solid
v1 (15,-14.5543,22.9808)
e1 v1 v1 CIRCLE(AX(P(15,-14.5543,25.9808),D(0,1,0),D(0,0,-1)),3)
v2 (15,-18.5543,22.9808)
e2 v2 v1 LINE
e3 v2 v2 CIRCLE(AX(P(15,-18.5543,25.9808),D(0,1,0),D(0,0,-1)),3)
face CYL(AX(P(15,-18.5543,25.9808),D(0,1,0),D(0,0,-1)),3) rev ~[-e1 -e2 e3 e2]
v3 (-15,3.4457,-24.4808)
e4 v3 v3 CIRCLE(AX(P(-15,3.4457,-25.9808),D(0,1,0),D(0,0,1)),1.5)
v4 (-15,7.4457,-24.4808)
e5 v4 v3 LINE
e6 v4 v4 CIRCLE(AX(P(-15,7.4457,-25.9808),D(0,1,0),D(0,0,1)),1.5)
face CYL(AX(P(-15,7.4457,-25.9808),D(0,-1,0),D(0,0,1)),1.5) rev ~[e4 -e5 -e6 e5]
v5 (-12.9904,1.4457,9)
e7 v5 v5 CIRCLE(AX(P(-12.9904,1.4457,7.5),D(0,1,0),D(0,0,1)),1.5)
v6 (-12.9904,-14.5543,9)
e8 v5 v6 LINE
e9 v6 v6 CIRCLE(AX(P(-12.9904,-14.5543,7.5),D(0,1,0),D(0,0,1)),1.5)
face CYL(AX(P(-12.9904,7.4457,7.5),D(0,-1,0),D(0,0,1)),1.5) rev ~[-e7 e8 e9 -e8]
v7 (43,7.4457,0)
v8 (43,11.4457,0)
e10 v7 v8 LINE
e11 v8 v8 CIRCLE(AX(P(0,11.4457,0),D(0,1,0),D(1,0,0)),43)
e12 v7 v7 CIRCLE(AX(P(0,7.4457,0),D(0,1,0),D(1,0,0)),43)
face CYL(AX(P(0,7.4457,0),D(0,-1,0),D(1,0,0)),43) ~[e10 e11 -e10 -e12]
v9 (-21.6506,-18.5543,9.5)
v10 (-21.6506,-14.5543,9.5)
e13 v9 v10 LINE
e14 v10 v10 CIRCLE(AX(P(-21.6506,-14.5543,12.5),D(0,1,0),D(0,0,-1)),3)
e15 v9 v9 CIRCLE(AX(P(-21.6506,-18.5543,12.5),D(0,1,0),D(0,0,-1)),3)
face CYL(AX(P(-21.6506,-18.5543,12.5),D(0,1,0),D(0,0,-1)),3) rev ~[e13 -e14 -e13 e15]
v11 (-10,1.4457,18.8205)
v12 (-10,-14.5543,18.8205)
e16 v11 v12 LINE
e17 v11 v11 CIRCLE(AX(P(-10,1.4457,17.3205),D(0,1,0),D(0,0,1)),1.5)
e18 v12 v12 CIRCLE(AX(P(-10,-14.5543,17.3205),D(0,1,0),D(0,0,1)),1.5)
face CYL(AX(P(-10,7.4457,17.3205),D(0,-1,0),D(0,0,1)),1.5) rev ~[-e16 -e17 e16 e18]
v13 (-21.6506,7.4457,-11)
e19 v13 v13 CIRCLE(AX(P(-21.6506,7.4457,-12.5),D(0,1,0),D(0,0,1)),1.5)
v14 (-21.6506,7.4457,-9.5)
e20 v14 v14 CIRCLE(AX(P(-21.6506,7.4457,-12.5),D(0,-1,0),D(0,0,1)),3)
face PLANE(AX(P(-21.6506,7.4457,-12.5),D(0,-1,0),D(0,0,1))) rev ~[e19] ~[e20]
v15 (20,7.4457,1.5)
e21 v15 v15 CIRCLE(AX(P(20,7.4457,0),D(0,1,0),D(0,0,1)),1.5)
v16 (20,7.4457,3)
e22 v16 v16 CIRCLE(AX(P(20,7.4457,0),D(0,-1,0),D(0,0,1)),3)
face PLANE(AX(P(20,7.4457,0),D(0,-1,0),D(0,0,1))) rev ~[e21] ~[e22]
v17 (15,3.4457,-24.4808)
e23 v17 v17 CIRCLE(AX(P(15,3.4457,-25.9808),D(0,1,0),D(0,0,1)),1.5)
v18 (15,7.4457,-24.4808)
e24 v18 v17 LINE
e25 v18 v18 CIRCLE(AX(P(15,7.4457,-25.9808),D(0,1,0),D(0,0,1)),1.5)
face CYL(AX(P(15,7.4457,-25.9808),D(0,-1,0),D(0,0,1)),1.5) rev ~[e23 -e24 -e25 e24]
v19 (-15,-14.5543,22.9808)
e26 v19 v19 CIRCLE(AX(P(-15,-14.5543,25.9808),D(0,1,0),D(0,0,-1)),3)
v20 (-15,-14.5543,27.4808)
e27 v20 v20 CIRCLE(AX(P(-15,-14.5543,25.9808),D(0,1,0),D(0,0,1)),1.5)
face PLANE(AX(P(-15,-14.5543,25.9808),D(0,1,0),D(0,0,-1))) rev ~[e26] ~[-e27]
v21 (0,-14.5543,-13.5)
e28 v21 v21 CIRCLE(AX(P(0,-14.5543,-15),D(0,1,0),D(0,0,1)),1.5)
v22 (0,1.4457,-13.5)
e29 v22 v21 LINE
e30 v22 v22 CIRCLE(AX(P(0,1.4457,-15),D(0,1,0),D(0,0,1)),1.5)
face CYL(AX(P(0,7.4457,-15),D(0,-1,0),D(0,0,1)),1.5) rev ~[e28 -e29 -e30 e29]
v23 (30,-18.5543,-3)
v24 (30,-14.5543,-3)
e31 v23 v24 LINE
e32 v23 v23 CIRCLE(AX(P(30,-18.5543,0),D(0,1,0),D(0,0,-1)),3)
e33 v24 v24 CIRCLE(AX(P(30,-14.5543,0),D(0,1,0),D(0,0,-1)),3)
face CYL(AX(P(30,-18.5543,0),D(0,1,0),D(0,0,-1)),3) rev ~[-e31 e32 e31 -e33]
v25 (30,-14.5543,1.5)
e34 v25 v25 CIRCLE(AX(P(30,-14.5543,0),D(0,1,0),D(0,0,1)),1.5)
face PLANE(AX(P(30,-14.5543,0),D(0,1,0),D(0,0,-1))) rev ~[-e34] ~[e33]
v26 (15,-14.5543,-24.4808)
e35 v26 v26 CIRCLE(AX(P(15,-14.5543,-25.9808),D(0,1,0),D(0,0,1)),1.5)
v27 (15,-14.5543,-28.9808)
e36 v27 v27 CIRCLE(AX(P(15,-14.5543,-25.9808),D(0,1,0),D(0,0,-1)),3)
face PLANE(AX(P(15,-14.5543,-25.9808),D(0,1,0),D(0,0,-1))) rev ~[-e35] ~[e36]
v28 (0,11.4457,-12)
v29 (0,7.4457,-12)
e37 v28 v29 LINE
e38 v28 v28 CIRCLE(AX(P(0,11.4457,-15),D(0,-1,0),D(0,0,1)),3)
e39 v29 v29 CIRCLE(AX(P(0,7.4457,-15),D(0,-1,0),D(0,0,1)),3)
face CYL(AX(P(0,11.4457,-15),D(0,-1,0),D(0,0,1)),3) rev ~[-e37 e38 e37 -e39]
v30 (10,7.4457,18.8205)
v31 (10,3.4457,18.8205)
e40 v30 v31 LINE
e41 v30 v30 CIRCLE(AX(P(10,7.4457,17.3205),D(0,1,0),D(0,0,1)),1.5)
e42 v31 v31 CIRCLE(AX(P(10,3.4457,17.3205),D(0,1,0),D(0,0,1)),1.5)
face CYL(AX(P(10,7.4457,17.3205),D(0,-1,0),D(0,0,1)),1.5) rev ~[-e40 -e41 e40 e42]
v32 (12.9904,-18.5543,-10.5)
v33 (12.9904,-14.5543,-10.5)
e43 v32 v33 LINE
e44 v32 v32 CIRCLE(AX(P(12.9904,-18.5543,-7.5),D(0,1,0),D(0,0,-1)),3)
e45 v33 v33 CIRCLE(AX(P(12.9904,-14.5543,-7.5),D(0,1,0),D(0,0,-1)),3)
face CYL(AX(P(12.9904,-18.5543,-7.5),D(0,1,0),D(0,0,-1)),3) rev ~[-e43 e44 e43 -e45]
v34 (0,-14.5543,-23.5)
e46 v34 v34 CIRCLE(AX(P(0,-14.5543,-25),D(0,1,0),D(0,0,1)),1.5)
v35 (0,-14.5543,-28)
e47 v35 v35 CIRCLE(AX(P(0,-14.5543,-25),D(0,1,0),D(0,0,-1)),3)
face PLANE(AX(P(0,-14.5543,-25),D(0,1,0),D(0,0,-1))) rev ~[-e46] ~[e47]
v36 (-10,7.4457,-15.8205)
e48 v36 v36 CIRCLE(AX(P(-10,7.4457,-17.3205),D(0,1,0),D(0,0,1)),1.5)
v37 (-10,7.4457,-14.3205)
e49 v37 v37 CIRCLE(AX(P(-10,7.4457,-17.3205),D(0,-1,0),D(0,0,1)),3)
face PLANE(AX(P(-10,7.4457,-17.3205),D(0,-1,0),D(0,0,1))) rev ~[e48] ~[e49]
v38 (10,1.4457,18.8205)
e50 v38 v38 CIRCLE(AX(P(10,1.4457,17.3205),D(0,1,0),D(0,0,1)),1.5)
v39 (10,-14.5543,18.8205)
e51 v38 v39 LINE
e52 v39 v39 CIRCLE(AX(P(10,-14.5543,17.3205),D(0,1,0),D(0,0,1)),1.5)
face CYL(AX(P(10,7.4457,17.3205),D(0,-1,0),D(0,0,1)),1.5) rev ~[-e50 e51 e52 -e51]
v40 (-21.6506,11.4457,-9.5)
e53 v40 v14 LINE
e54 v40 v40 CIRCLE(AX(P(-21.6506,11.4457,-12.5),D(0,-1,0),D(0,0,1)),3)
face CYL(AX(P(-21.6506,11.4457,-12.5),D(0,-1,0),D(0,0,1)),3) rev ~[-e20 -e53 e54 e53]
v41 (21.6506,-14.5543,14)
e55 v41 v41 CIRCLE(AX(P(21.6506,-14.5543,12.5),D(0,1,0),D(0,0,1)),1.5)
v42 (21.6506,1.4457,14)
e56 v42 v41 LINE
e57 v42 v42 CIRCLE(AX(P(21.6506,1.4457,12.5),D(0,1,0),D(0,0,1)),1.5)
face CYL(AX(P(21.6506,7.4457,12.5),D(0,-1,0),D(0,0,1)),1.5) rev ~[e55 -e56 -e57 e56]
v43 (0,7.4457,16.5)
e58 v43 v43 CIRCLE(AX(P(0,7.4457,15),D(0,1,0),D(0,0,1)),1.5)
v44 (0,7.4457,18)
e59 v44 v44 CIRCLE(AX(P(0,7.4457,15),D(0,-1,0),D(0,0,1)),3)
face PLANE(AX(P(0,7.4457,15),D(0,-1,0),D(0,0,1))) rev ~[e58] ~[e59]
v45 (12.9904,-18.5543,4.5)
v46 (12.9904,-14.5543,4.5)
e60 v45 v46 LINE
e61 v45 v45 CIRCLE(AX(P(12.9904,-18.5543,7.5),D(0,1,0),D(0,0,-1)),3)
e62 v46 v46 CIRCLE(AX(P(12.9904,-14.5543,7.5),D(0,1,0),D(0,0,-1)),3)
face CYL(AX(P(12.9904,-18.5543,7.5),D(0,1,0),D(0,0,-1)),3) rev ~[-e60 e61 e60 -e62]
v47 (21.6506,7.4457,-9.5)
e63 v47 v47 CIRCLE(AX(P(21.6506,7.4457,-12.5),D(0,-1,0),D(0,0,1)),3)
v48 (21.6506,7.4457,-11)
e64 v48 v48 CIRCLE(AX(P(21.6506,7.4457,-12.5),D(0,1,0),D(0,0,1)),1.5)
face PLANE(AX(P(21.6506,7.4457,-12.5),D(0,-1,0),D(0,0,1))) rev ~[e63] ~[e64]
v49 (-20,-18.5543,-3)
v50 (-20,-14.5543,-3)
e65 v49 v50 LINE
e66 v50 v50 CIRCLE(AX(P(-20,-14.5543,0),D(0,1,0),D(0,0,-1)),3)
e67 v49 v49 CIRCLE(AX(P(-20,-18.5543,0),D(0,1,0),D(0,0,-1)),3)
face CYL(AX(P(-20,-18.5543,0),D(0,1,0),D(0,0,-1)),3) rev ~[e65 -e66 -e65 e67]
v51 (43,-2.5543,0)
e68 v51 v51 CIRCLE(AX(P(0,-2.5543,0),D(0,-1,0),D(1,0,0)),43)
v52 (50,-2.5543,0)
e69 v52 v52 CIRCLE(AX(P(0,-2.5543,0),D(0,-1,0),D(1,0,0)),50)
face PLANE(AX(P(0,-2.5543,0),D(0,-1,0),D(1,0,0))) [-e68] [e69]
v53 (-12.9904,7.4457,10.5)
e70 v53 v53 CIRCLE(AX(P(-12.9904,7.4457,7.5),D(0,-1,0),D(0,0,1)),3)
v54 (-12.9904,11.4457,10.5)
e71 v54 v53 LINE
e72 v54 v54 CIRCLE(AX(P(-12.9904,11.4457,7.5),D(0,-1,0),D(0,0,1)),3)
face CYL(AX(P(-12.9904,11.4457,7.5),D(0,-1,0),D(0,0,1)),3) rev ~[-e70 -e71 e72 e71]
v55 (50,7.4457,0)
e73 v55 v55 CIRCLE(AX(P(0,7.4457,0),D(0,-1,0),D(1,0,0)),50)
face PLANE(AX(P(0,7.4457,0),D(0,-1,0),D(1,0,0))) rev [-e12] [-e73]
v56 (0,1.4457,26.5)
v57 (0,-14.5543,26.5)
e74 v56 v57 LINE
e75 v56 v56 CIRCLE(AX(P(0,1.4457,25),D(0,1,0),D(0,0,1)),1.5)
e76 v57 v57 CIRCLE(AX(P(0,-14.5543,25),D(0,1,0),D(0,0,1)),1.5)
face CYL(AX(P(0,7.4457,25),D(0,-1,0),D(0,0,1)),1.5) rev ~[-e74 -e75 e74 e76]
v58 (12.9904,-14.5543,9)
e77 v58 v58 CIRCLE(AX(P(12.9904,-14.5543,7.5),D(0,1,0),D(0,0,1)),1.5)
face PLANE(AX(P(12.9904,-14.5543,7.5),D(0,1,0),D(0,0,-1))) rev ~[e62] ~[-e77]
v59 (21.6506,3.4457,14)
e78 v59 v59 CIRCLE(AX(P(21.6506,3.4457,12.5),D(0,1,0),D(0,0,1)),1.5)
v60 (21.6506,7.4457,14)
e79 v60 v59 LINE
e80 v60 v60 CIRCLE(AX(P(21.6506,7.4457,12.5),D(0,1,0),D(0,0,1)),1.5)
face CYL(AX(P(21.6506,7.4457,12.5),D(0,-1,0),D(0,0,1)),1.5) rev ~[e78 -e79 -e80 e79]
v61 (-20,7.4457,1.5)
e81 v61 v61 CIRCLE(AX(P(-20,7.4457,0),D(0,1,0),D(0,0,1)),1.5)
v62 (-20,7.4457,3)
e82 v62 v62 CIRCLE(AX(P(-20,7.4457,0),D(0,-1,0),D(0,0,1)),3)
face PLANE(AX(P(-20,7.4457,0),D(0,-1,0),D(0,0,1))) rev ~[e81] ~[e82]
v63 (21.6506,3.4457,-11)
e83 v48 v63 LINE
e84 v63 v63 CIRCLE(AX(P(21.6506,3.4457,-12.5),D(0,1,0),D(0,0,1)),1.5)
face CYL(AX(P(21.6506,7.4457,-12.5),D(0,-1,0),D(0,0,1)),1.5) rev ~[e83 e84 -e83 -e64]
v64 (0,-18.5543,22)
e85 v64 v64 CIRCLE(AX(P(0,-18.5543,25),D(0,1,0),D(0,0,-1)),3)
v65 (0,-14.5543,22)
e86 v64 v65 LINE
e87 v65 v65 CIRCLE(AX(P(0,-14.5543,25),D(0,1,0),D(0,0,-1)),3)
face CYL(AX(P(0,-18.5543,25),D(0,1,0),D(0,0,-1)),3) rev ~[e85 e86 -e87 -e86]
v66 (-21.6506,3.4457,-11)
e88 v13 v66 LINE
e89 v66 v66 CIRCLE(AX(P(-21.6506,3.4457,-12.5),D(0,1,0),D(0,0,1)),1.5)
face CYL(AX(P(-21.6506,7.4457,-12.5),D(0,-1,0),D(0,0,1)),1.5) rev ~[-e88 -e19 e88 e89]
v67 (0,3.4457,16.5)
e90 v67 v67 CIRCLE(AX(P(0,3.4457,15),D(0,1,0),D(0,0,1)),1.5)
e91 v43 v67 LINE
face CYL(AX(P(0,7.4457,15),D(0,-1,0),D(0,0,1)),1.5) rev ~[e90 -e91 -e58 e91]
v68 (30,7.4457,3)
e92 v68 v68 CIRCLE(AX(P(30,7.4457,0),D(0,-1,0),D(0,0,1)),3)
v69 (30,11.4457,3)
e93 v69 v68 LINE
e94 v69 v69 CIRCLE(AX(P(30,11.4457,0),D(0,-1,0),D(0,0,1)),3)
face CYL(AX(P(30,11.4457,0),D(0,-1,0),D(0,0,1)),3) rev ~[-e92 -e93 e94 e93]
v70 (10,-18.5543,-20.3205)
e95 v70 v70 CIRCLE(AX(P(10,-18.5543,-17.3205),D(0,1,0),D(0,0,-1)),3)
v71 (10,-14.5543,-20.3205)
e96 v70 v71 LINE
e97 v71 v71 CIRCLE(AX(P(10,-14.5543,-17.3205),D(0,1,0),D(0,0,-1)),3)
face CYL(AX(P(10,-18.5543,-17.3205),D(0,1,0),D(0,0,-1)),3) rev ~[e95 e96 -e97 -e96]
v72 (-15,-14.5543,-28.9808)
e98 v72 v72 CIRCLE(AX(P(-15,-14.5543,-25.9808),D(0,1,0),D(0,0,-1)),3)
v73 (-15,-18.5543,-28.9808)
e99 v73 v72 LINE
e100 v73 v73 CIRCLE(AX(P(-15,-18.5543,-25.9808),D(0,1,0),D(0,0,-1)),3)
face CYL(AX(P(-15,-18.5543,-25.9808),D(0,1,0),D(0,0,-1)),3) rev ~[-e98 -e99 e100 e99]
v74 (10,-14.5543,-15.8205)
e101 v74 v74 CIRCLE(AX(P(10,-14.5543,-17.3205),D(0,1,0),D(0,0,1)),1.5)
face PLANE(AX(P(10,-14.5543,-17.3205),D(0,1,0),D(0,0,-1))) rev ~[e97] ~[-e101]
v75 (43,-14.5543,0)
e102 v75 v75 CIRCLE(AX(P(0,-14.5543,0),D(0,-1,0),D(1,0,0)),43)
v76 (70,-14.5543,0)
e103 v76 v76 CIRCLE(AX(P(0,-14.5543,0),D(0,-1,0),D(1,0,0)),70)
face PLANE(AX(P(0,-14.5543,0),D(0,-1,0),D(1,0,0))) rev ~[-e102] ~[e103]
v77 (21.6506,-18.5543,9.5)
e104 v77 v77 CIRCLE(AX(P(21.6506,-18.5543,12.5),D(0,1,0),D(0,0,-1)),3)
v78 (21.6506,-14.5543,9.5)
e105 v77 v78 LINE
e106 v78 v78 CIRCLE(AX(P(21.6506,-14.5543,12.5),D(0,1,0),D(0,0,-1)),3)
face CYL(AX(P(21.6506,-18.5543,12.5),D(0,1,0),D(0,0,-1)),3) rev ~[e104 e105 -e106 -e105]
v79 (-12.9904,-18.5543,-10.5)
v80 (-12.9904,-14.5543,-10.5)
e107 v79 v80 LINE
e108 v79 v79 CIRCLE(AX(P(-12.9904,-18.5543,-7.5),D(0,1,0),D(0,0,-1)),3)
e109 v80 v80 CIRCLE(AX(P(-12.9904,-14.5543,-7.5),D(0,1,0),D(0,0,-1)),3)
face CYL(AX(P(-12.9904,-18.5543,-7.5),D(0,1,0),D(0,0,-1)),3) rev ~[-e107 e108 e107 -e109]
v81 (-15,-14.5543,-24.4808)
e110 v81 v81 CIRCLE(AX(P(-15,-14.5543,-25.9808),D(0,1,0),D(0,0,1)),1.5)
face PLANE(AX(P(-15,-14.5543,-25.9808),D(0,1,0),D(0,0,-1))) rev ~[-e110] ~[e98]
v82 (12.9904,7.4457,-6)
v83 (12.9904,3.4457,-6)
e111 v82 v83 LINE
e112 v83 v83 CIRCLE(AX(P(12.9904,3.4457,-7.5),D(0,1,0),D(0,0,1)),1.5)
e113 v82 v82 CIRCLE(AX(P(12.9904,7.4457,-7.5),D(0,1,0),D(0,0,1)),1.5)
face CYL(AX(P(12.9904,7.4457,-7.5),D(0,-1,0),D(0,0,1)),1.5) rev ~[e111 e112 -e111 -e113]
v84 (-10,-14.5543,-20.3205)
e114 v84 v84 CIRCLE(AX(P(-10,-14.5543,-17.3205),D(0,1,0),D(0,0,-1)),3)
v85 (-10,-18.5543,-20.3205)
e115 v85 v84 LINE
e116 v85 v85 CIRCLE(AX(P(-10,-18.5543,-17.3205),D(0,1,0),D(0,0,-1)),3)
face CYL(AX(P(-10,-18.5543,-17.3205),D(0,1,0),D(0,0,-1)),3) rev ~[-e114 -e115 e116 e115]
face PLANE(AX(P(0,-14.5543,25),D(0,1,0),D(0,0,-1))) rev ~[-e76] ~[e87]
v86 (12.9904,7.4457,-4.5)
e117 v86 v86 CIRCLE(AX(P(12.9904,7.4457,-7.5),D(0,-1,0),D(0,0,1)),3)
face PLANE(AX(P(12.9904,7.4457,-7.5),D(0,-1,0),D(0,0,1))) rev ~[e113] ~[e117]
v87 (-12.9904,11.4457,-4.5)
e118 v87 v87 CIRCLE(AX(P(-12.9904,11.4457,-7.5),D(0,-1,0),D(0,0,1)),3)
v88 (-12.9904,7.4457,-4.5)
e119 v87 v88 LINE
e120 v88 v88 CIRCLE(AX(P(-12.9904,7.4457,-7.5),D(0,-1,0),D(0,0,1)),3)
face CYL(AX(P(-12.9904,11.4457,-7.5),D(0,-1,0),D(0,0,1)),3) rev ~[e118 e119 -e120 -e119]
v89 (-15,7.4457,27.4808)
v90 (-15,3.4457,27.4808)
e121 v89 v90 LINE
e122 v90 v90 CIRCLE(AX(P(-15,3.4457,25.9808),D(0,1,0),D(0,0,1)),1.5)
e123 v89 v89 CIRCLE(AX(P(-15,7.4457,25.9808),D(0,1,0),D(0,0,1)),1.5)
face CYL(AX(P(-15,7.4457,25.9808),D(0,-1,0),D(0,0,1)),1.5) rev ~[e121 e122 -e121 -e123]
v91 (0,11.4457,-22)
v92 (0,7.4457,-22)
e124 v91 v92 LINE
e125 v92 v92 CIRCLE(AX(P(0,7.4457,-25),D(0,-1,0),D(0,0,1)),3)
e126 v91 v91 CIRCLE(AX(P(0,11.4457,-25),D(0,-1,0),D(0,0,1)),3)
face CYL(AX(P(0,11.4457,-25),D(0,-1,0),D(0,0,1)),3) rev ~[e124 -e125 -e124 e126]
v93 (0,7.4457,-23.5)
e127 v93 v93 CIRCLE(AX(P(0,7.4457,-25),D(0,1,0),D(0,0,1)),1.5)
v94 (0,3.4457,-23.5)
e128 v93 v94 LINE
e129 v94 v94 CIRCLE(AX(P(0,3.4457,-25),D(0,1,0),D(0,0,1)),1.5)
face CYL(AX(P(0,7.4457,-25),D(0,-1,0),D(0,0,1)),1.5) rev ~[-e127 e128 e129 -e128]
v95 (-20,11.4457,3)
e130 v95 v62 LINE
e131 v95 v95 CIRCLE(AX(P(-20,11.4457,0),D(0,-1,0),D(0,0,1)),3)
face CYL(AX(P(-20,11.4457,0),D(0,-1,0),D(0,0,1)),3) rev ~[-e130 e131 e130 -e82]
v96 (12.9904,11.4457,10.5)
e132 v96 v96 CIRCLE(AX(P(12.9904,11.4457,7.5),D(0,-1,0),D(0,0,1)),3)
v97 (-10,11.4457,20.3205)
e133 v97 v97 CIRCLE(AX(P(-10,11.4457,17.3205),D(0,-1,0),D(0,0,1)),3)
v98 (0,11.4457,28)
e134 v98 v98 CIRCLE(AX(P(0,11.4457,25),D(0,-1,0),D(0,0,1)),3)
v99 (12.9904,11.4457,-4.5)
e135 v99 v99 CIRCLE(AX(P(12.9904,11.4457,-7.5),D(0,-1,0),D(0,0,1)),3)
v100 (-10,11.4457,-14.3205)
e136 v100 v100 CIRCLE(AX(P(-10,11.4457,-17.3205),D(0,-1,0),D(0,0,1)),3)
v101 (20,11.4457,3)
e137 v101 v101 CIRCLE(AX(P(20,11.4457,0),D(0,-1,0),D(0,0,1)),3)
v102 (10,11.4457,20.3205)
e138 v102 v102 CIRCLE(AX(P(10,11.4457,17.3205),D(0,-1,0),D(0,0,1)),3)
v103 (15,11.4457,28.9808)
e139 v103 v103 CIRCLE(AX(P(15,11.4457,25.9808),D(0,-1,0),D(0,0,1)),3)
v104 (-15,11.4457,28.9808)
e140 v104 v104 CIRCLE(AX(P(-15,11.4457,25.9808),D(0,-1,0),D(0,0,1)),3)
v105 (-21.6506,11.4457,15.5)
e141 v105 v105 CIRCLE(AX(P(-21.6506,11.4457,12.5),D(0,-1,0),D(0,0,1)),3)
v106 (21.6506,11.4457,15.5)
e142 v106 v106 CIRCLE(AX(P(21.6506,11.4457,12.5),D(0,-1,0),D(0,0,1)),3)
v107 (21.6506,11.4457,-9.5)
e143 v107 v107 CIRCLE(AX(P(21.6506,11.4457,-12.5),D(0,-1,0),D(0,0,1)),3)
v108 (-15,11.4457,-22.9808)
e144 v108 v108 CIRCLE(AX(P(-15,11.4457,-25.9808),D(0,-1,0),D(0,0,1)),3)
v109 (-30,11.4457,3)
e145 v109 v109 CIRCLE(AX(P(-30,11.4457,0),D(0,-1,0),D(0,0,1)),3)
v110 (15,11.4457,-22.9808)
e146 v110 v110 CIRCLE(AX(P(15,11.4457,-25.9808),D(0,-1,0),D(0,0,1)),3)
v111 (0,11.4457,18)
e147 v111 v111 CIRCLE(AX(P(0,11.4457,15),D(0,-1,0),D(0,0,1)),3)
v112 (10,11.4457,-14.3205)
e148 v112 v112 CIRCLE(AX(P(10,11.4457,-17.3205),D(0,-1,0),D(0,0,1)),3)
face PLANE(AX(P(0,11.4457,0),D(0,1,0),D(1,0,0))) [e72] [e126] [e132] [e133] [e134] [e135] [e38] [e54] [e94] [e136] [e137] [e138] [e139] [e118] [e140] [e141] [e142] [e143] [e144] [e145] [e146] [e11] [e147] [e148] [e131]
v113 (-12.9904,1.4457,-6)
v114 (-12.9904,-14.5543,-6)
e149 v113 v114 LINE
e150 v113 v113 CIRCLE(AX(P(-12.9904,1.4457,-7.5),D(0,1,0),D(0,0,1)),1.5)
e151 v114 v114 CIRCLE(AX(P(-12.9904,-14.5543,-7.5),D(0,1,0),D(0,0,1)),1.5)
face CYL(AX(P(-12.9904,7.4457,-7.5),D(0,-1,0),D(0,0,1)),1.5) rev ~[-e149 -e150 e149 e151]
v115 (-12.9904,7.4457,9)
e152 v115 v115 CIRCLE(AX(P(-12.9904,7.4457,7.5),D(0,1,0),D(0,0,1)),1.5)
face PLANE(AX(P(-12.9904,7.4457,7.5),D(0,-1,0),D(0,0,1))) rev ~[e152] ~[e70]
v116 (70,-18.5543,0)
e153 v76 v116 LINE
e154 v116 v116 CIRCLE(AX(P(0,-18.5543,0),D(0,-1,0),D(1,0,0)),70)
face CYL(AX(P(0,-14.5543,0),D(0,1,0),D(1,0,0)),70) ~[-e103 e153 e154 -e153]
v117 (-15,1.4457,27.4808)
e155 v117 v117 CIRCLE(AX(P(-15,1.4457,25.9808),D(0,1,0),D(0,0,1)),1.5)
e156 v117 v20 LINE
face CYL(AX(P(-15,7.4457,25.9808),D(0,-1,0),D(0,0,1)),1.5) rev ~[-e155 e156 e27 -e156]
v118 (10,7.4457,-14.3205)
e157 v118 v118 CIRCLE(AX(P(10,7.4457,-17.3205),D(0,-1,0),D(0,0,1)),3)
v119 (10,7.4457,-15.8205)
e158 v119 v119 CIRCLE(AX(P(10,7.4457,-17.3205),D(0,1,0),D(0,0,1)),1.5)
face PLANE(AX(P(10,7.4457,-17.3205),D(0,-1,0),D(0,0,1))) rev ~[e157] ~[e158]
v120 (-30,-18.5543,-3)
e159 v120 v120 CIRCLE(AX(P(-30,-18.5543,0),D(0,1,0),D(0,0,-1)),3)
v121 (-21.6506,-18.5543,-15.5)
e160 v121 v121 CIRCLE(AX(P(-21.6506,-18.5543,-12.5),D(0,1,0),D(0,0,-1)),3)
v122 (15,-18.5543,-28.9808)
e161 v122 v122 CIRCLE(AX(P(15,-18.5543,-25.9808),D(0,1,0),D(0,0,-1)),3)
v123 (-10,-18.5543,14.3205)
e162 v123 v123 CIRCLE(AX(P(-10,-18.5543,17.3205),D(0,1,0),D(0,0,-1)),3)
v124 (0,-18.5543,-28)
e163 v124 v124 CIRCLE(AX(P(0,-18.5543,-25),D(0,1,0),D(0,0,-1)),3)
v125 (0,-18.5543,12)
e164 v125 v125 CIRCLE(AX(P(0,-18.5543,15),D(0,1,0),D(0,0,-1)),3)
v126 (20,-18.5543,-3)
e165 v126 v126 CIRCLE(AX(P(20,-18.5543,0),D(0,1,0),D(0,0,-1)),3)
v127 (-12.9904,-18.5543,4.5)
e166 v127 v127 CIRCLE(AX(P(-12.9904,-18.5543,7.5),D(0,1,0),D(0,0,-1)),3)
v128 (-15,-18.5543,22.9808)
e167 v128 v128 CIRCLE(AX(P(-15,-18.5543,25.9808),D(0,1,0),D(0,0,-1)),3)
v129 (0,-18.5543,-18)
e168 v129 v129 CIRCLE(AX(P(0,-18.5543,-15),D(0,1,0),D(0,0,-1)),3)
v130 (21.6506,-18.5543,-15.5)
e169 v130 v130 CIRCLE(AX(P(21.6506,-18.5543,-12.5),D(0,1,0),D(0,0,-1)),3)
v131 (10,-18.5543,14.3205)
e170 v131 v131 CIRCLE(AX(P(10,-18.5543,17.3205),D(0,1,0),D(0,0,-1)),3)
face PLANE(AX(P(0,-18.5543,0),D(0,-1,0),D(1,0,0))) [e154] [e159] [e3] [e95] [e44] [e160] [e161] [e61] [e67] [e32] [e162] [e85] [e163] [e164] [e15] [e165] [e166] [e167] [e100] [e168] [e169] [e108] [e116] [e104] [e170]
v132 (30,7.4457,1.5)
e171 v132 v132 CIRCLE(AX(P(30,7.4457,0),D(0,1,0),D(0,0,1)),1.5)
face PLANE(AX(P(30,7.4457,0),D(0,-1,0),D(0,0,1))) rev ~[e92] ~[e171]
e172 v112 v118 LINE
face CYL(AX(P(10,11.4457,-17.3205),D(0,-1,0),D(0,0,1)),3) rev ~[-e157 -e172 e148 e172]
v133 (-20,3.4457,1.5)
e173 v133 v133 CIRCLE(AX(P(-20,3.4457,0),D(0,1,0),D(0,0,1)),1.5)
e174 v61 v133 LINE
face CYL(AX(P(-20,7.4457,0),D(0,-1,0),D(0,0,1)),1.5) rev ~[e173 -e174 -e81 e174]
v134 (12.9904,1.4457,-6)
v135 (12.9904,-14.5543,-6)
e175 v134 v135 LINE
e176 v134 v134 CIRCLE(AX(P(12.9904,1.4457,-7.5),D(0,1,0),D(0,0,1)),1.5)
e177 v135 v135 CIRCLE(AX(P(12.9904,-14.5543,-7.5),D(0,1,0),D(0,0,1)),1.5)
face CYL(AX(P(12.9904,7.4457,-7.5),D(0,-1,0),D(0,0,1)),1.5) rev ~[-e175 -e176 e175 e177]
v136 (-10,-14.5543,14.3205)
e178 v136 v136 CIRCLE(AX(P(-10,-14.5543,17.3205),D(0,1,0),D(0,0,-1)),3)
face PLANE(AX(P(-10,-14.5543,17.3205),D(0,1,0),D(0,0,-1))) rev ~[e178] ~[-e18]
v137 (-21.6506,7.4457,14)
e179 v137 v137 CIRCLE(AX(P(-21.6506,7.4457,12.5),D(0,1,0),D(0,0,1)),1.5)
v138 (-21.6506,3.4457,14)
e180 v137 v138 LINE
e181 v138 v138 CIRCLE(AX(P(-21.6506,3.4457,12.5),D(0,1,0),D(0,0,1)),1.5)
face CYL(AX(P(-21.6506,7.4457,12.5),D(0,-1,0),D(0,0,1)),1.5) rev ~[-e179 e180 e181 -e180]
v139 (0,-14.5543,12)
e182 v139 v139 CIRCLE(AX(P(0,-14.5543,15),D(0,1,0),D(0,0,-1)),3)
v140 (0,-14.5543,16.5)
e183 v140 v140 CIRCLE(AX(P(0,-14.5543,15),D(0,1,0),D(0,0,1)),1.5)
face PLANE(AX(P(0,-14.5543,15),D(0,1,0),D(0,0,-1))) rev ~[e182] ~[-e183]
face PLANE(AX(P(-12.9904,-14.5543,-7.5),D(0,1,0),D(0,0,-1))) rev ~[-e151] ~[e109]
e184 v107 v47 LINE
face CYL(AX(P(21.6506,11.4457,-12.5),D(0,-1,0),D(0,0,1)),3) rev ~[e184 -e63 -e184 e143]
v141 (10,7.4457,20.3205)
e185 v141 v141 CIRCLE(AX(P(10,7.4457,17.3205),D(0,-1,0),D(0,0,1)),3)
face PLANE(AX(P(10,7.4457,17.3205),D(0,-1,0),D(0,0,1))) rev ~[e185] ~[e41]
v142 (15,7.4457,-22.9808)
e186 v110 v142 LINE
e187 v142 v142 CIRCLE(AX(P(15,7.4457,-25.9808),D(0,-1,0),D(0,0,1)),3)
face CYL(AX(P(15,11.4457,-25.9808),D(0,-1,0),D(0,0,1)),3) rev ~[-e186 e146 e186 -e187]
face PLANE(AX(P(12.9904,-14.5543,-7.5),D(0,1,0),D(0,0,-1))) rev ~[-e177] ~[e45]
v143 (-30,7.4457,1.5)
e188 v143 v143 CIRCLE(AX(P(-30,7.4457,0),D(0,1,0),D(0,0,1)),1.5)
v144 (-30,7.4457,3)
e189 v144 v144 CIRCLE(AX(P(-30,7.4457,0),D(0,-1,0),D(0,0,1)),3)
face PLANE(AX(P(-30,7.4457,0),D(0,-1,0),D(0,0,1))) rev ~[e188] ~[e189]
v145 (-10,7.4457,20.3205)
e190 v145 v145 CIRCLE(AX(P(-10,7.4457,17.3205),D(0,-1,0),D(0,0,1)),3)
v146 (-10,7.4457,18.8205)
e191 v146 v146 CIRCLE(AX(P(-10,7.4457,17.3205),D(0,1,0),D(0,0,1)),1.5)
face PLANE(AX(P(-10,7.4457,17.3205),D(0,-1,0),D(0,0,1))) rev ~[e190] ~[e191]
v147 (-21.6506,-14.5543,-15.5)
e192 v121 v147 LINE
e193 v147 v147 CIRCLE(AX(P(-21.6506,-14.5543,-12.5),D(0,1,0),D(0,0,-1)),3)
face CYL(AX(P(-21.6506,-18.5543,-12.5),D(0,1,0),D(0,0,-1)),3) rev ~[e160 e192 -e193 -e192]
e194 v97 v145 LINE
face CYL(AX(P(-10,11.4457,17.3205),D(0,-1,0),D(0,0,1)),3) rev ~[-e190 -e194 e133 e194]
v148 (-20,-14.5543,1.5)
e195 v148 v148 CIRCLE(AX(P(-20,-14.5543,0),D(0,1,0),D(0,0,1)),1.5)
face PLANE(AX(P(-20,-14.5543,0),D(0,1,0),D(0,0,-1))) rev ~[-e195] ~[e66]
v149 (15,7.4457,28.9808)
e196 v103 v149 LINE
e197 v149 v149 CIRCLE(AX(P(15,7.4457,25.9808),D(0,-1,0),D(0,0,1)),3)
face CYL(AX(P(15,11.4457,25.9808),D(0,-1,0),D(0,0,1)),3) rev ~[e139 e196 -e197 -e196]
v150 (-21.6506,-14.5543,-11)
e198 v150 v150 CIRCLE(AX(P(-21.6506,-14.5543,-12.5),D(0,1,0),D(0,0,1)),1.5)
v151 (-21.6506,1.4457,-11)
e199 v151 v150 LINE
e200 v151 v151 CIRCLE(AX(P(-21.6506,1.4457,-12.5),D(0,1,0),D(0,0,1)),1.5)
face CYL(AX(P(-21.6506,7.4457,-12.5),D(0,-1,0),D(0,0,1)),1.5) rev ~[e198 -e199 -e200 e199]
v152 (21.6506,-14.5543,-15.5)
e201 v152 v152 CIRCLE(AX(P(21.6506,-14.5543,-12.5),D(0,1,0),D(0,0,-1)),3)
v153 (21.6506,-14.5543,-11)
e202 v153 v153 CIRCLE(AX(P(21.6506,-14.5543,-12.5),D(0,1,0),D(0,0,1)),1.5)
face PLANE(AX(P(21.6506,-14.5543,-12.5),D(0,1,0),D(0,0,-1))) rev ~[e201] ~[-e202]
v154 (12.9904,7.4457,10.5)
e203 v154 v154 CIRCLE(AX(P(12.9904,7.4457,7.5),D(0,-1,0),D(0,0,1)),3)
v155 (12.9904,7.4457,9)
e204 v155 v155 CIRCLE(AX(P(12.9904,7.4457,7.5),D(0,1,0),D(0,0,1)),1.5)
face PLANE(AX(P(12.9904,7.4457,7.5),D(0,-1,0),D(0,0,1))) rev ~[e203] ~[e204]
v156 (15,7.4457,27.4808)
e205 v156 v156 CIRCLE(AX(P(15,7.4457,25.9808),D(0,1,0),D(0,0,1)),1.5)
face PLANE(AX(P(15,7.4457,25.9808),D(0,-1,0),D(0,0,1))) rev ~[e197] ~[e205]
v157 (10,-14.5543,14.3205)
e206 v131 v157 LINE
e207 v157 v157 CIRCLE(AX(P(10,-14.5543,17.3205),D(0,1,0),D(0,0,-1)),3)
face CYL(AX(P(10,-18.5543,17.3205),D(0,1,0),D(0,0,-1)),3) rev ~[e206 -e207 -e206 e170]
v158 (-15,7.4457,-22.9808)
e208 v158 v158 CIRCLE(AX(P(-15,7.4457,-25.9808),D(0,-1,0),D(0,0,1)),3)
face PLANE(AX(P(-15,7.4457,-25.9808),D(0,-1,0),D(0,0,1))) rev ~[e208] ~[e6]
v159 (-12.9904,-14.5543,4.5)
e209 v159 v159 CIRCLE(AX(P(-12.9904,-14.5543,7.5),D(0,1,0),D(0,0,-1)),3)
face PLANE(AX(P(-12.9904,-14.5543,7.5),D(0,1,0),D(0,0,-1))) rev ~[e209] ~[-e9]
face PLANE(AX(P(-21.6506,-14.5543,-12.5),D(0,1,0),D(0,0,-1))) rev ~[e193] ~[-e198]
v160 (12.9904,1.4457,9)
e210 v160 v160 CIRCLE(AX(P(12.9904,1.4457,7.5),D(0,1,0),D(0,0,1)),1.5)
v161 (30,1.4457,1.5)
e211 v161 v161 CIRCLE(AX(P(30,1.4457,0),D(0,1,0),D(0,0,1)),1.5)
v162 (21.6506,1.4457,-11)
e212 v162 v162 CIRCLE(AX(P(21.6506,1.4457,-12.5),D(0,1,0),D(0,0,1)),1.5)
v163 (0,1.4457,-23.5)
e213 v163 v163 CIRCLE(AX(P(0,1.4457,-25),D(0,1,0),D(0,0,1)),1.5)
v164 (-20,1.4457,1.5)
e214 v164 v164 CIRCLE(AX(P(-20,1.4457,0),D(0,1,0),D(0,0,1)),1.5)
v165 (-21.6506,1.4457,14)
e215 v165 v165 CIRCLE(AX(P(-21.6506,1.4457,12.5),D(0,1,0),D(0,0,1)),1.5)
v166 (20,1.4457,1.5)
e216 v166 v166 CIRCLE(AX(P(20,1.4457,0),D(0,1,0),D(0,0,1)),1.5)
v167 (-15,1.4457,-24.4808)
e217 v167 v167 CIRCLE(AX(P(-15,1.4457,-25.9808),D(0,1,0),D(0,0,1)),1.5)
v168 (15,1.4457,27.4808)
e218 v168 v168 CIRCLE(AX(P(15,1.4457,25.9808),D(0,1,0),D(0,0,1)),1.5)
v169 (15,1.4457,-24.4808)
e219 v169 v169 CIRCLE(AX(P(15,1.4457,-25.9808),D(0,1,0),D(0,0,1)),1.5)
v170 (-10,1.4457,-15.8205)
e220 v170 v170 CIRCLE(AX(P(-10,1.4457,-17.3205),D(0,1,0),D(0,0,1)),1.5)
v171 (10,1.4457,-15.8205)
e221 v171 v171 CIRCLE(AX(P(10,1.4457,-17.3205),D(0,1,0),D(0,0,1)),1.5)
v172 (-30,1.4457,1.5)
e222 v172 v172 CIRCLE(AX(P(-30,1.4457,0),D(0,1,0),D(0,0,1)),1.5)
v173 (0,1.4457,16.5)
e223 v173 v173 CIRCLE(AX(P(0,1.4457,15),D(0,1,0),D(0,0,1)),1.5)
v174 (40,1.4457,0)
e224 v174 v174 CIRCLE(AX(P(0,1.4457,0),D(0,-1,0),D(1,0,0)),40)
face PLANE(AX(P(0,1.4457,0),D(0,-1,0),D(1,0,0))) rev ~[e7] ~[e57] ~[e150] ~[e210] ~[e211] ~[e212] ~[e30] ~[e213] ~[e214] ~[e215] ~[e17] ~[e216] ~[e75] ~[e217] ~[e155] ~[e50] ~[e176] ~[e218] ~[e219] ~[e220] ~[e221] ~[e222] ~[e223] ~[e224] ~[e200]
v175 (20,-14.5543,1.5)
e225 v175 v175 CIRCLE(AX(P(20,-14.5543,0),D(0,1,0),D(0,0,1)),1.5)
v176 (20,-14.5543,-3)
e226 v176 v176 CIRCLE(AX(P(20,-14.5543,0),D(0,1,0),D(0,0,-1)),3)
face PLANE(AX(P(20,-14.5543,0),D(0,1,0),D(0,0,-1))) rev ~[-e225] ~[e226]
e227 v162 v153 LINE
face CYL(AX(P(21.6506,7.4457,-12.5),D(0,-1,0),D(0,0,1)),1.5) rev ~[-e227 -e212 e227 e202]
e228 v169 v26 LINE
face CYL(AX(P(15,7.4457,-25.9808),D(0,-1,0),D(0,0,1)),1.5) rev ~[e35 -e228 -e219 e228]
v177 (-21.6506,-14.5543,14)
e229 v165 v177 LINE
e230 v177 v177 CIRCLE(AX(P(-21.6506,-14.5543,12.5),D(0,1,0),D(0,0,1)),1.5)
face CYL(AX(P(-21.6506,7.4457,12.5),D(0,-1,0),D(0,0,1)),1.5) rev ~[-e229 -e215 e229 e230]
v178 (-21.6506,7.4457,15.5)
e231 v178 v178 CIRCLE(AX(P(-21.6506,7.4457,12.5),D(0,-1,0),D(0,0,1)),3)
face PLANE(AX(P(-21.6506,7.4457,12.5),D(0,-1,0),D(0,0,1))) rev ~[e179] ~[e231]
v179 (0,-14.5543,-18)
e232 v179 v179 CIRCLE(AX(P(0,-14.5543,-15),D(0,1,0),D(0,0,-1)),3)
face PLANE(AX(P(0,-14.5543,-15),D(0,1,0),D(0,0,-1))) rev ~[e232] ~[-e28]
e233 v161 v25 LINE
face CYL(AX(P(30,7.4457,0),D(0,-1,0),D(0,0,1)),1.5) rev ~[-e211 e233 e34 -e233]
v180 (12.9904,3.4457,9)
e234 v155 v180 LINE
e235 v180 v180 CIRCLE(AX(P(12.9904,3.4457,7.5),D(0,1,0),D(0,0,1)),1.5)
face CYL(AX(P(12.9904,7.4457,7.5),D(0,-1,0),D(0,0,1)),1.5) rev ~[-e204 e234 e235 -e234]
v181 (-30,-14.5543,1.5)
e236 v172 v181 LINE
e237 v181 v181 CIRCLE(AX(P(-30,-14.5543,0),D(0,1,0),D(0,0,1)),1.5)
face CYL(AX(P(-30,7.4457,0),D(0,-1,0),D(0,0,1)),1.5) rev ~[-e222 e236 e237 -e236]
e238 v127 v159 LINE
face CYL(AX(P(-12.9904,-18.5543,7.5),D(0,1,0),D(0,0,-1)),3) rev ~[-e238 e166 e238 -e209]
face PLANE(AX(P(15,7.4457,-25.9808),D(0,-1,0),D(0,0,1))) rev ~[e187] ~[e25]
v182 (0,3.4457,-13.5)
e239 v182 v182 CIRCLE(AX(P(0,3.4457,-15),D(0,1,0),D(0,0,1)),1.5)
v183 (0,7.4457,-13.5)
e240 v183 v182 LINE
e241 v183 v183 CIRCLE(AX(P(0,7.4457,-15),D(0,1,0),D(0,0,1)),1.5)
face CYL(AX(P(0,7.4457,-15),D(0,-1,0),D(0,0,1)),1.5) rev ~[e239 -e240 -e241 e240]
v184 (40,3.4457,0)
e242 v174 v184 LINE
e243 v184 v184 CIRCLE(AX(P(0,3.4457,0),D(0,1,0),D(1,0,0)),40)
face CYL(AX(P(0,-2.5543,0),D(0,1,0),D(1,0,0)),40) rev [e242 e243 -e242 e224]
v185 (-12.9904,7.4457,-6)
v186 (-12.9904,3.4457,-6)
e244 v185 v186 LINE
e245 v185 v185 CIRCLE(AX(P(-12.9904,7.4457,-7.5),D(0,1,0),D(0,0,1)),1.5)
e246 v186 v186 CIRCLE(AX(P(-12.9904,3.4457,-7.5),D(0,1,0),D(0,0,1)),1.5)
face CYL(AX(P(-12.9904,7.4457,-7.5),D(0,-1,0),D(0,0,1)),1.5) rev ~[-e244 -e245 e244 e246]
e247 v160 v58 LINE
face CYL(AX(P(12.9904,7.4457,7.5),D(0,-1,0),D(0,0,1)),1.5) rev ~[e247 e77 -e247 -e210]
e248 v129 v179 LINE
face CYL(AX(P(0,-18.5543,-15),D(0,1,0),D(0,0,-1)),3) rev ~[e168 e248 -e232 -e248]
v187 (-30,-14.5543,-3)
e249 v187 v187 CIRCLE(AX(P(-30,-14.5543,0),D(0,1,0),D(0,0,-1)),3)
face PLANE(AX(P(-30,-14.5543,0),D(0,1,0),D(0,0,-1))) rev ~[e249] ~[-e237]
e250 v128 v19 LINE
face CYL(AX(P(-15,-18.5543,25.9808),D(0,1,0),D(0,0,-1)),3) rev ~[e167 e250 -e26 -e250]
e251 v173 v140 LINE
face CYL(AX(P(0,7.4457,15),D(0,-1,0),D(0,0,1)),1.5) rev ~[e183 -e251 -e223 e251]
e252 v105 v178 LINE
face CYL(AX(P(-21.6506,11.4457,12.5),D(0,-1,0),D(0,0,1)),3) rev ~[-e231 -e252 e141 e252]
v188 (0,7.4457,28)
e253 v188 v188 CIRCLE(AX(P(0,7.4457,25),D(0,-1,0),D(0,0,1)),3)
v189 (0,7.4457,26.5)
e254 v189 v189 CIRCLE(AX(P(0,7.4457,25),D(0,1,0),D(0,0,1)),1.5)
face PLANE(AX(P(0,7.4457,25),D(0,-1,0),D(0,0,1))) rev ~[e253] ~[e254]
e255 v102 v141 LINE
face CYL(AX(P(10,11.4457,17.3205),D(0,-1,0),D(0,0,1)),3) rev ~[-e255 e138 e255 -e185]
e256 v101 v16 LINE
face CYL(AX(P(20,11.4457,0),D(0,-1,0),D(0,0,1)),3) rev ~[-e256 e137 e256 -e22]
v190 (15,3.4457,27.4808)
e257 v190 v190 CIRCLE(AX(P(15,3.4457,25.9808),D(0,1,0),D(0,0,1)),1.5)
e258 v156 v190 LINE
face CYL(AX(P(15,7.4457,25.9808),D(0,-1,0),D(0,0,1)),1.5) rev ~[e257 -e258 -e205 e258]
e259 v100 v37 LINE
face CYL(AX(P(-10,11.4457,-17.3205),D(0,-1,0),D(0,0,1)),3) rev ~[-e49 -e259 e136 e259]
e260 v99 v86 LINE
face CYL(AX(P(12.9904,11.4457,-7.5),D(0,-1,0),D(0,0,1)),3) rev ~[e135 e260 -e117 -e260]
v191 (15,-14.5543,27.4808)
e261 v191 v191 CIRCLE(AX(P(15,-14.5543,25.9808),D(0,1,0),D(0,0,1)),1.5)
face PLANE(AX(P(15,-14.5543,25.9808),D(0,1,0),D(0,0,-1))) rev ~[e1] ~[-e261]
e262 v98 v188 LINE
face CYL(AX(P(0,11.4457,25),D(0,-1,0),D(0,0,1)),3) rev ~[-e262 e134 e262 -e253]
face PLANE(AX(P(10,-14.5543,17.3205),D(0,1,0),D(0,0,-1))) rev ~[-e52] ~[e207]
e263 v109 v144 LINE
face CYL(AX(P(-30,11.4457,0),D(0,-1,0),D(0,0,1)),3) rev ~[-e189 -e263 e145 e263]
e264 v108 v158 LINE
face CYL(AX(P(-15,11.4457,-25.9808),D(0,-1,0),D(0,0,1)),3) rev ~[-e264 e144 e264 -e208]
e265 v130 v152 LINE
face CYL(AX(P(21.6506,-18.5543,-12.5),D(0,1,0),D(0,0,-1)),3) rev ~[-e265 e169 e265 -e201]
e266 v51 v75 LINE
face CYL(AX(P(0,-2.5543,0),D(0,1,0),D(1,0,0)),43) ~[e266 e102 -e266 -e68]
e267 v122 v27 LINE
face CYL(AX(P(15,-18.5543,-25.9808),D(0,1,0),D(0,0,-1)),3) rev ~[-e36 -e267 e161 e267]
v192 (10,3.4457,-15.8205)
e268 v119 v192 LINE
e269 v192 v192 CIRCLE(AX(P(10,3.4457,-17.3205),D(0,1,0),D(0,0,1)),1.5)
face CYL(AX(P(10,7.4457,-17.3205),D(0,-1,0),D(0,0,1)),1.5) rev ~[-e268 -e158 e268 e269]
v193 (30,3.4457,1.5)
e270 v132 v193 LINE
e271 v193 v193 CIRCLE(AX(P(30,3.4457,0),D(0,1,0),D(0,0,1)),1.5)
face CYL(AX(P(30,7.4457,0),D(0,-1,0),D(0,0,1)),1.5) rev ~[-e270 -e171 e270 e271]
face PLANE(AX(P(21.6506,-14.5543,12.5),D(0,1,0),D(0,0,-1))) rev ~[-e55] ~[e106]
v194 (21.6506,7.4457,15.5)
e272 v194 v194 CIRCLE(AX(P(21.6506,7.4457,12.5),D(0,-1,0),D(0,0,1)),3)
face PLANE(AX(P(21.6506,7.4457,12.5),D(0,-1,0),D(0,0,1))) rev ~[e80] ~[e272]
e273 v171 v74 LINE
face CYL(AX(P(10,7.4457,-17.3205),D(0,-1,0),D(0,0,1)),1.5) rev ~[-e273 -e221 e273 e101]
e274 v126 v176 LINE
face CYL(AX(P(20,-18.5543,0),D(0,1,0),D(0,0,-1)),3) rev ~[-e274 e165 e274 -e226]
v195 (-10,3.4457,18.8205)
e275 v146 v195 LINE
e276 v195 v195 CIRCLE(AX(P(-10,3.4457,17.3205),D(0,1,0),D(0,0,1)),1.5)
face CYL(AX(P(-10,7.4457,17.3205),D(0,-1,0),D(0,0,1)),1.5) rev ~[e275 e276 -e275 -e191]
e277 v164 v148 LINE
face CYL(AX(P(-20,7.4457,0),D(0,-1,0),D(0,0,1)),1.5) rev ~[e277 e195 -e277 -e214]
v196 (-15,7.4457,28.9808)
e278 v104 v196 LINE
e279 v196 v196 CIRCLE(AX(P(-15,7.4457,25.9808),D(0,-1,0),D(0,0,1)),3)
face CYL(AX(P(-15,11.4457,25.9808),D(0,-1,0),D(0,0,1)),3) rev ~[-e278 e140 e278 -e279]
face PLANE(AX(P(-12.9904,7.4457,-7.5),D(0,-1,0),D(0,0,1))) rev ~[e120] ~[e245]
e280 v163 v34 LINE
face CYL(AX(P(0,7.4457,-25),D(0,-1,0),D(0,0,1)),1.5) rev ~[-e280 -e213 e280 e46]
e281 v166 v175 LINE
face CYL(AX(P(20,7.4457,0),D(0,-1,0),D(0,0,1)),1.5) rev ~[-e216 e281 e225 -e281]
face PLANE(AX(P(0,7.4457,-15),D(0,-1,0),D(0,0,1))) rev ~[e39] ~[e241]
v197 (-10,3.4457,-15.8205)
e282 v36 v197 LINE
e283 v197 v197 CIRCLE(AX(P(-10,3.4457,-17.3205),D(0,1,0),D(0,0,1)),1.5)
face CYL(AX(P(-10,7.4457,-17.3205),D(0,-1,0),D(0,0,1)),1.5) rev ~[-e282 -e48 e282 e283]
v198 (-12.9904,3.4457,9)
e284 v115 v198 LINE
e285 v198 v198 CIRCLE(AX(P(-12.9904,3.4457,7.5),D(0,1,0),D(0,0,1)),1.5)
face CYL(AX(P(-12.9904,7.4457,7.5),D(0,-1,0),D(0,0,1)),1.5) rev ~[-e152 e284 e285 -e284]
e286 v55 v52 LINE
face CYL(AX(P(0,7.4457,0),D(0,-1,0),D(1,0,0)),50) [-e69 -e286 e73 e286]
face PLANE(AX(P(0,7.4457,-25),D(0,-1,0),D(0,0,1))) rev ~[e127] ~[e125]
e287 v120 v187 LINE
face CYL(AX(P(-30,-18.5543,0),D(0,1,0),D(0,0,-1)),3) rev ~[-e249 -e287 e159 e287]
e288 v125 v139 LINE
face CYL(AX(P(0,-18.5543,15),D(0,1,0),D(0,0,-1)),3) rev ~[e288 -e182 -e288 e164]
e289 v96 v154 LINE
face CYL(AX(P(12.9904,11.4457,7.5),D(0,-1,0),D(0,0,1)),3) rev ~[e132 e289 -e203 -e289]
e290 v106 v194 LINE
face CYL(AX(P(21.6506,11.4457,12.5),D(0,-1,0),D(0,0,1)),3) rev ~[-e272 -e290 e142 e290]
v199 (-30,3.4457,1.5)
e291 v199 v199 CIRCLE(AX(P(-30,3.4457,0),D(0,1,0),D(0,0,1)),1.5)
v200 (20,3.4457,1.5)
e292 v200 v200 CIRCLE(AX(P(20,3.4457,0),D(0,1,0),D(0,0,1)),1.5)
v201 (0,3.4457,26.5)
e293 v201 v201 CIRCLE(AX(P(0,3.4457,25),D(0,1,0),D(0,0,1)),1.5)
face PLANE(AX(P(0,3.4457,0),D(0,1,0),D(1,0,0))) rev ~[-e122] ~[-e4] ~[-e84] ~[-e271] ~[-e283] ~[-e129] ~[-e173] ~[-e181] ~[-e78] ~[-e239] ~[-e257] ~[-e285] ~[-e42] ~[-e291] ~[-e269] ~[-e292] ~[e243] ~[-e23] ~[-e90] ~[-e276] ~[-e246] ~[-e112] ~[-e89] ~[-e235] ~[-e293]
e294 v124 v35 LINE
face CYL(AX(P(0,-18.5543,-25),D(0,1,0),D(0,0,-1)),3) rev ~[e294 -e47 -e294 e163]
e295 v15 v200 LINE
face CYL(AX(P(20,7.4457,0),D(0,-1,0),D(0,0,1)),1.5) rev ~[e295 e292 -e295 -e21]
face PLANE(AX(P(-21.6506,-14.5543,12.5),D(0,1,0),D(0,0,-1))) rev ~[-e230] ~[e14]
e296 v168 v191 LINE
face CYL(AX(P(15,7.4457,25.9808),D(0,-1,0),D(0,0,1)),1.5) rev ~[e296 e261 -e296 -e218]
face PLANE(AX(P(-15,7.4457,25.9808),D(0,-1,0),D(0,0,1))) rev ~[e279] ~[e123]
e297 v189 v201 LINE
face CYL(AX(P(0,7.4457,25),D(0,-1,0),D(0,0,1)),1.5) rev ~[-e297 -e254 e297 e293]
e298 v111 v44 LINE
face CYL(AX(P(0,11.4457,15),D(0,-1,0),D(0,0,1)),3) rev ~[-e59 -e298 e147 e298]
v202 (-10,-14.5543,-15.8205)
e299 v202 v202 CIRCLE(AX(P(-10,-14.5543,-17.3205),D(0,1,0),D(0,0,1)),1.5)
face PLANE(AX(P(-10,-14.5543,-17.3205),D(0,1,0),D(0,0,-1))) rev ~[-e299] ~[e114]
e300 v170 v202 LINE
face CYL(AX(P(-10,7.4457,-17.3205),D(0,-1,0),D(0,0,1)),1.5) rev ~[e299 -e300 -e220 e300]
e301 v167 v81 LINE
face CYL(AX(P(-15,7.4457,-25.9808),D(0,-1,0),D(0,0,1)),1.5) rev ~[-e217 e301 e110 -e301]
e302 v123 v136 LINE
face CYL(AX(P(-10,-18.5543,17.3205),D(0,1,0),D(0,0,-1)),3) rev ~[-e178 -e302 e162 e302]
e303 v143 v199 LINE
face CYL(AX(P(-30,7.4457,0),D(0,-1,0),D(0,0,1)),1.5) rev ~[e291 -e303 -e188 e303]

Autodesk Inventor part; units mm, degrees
ref_plane "YZ Plane" through (0, 0, 0) normal (1, 0, 0) x (0, 1, 0)
ref_plane "XZ Plane" through (0, 0, 0) normal (0, 1, 0) x (-1, 0, 0)
ref_plane "XY Plane" through (0, 0, 0) normal (0, 0, 1) x (1, 0, 0)
sketch "Sketch1" plane through (0, 0, 0) normal (0, 0, 1) x (1, 0, 0)
  line L0 (0, 30.0543) -> (0, -31.5761)
  line L1 (40, 7.4457) -> (50, 7.4457)
  line L2 (50, 7.4457) -> (50, -2.5543)
  line L3 (50, -2.5543) -> (40, -2.5543)
  line L4 (40, -2.5543) -> (40, 7.4457)
  point P0 (0, 0)
  dimension "d0" = 10
  dimension "d1" = 10
  dimension "d2" = 80
revolve "Revolution1" add sketch "Sketch1" angle 360 about axis through (0, 30.0543, 0) along (0, -1, 0)
sketch "Sketch3" plane through (0, 7.4457, 0) normal (0, 1, 0) x (1, 0, 0)
  circle A0 centre (0, 0) radius 40 projected
  circle A1 centre (0, 0) radius 43
  point P0 (0, 0)
  dimension "d6" = 3
extrude "Extrusion1" add sketch "Sketch3" along normal blind 4 contours A0 | A1
extrude "Extrusion2" add sketch "Sketch3" against normal blind 4 contours A0
sketch "Sketch4" plane through (0, -2.5543, 0) normal (0, -1, 0) x (1, 0, 0)
  circle A0 centre (0, 0) radius 40 projected
  circle A1 centre (0, 0) radius 43 projected
  point P0 (0, 0)
extrude "Extrusion3" add sketch "Sketch4" against normal blind 4 contours A0
extrude "Extrusion4" add sketch "Sketch4" along normal blind 12 contours A0 | A1
sketch "Sketch5" plane through (0, -14.5543, 0) normal (0, -1, 0) x (1, 0, 0)
  circle A0 centre (0, 0) radius 70
  point P0 (0, 0)
  dimension "d16" = 140
extrude "Extrusion5" add sketch "Sketch5" along normal blind 4
sketch "Sketch6" plane through (0, 11.4457, 0) normal (0, 1, 0) x (1, 0, 0)
  circle A0 centre (0, 0) radius 30
  circle A1 centre (-30, 0) radius 1.5
  line L0 (0, 0) -> (-60.6002, 0)
  line L1 (0, 0) -> (-52.4813, -30.3001)
  line L2 (0, 0) -> (-30.3001, -52.4813)
  line L3 (0, 0) -> (0, -60.6002)
  line L4 (0, 0) -> (30.3001, -52.4813)
  line L5 (0, 0) -> (52.4813, -30.3001)
  line L6 (0, 0) -> (60.6002, 0)
  line L7 (0, 0) -> (52.4813, 30.3001)
  line L8 (0, 0) -> (30.3001, 52.4813)
  line L9 (0, 0) -> (0, 60.6002)
  line L10 (0, 0) -> (-30.3001, 52.4813)
  line L11 (0, 0) -> (-52.4813, 30.3001)
  circle A2 centre (0, 0) radius 20
  circle A3 centre (0, 0) radius 25
  circle A4 centre (0, 0) radius 15
  circle A5 centre (-21.6506, 12.5) radius 1.5
  circle A6 centre (-20, 0) radius 1.5
  circle A7 centre (-12.9904, 7.5) radius 1.5
  circle A8 centre (-15, -25.9808) radius 1.5
  circle A9 centre (-10, -17.3205) radius 1.5
  circle A10 centre (-21.6506, -12.5) radius 1.5
  circle A11 centre (-12.9904, -7.5) radius 1.5
  circle A12 centre (15, -25.9808) radius 1.5
  circle A13 centre (10, -17.3205) radius 1.5
  circle A14 centre (0, -25) radius 1.5
  circle A15 centre (0, -15) radius 1.5
  circle A16 centre (30, 0) radius 1.5
  circle A17 centre (20, 0) radius 1.5
  circle A18 centre (21.6506, -12.5) radius 1.5
  circle A19 centre (12.9904, -7.5) radius 1.5
  circle A20 centre (15, 25.9808) radius 1.5
  circle A21 centre (10, 17.3205) radius 1.5
  circle A22 centre (21.6506, 12.5) radius 1.5
  circle A23 centre (12.9904, 7.5) radius 1.5
  circle A24 centre (-15, 25.9808) radius 1.5
  circle A25 centre (-10, 17.3205) radius 1.5
  circle A26 centre (0, 25) radius 1.5
  circle A27 centre (0, 15) radius 1.5
  dimension "d19" = 60
  dimension "d25" = 40
  dimension "d26" = 50
  dimension "d27" = 30
  dimension "d20" = 3
  dimension "d23" = 360
  dimension "d28" = 3
  dimension "d29" = 3
  dimension "d30" = 3
  dimension "d33" = 360
hole "Hole1" at (-15, 11.4457, 25.9808) at (-30, 11.4457, 0) at (-15, 11.4457, -25.9808) at (15, 11.4457, -25.9808) at (30, 11.4457, 0) at (15, 11.4457, 25.9808) at (0, 11.4457, 25) at (-21.6506, 11.4457, 12.5) at (-21.6506, 11.4457, -12.5) at (-10, 11.4457, -17.3205) at (10, 11.4457, -17.3205) at (20, 11.4457, 0) at (21.6506, 11.4457, 12.5) at (21.6506, 11.4457, -12.5) at (12.9904, 11.4457, -7.5) at (12.9904, 11.4457, 7.5) at (10, 11.4457, 17.3205) at (0, 11.4457, 15) at (-10, 11.4457, 17.3205) at (-12.9904, 11.4457, 7.5) at (-20, 11.4457, 0) at (-12.9904, 11.4457, -7.5) at (0, 11.4457, -15) at (0, 11.4457, -25) direction (0, -1, 0) diameter 3 end through all counterbore diameter 6 counterbore depth 4
sketch "Sketch7" plane through (0, -18.5543, 0) normal (0, -1, 0) x (1, 0, 0)
  circle A0 centre (0, -15) radius 1.5 projected
  circle A1 centre (-20, 0) radius 1.5 projected
  circle A2 centre (-10, 17.3205) radius 1.5 projected
  circle A3 centre (10, 17.3205) radius 1.5 projected
  circle A4 centre (12.9904, -7.5) radius 1.5 projected
  circle A5 centre (21.6506, 12.5) radius 1.5 projected
  circle A6 centre (10, -17.3205) radius 1.5 projected
  circle A7 centre (-21.6506, -12.5) radius 1.5 projected
  circle A8 centre (0, 25) radius 1.5 projected
  circle A9 centre (30, 0) radius 1.5 projected
  circle A10 centre (-15, -25.9808) radius 1.5 projected
  circle A11 centre (-15, 25.9808) radius 1.5 projected
  circle A12 centre (-30, 0) radius 1.5 projected
  circle A13 centre (15, -25.9808) radius 1.5 projected
  circle A14 centre (15, 25.9808) radius 1.5 projected
  circle A15 centre (-21.6506, 12.5) radius 1.5 projected
  circle A16 centre (-10, -17.3205) radius 1.5 projected
  circle A17 centre (20, 0) radius 1.5 projected
  circle A18 centre (21.6506, -12.5) radius 1.5 projected
  circle A19 centre (12.9904, 7.5) radius 1.5 projected
  circle A20 centre (0, 15) radius 1.5 projected
  circle A21 centre (-12.9904, 7.5) radius 1.5 projected
  circle A22 centre (-12.9904, -7.5) radius 1.5 projected
  circle A23 centre (0, -25) radius 1.5 projected
  circle A24 centre (0, 0) radius 70 projected
  point P0 (0, 0)
hole "Hole2" at (30, -18.5543, 0) at (21.6506, -18.5543, -12.5) at (20, -18.5543, 0) at (21.6506, -18.5543, 12.5) at (15, -18.5543, 25.9808) at (12.9904, -18.5543, 7.5) at (12.9904, -18.5543, -7.5) at (15, -18.5543, -25.9808) at (10, -18.5543, -17.3205) at (0, -18.5543, -15) at (0, -18.5543, -25) at (0, -18.5543, 15) at (0, -18.5543, 25) at (10, -18.5543, 17.3205) at (-10, -18.5543, 17.3205) at (-15, -18.5543, 25.9808) at (-12.9904, -18.5543, 7.5) at (-21.6506, -18.5543, 12.5) at (-20, -18.5543, 0) at (-30, -18.5543, 0) at (-12.9904, -18.5543, -7.5) at (-21.6506, -18.5543, -12.5) at (-15, -18.5543, -25.9808) at (-10, -18.5543, -17.3205) direction (0, 1, 0) diameter 3 end through all counterbore diameter 6 counterbore depth 4
equation "\"d9\" = t"
equation "\"d12\" = t"
equation "\"d14\" = 3 * t"
equation "\"d17\" = t"
equation "\"d38\" = t"
equation "\"d45\" = t"
equation "\"t\" = 4"
properties part number "bottom-bearing-holder"
